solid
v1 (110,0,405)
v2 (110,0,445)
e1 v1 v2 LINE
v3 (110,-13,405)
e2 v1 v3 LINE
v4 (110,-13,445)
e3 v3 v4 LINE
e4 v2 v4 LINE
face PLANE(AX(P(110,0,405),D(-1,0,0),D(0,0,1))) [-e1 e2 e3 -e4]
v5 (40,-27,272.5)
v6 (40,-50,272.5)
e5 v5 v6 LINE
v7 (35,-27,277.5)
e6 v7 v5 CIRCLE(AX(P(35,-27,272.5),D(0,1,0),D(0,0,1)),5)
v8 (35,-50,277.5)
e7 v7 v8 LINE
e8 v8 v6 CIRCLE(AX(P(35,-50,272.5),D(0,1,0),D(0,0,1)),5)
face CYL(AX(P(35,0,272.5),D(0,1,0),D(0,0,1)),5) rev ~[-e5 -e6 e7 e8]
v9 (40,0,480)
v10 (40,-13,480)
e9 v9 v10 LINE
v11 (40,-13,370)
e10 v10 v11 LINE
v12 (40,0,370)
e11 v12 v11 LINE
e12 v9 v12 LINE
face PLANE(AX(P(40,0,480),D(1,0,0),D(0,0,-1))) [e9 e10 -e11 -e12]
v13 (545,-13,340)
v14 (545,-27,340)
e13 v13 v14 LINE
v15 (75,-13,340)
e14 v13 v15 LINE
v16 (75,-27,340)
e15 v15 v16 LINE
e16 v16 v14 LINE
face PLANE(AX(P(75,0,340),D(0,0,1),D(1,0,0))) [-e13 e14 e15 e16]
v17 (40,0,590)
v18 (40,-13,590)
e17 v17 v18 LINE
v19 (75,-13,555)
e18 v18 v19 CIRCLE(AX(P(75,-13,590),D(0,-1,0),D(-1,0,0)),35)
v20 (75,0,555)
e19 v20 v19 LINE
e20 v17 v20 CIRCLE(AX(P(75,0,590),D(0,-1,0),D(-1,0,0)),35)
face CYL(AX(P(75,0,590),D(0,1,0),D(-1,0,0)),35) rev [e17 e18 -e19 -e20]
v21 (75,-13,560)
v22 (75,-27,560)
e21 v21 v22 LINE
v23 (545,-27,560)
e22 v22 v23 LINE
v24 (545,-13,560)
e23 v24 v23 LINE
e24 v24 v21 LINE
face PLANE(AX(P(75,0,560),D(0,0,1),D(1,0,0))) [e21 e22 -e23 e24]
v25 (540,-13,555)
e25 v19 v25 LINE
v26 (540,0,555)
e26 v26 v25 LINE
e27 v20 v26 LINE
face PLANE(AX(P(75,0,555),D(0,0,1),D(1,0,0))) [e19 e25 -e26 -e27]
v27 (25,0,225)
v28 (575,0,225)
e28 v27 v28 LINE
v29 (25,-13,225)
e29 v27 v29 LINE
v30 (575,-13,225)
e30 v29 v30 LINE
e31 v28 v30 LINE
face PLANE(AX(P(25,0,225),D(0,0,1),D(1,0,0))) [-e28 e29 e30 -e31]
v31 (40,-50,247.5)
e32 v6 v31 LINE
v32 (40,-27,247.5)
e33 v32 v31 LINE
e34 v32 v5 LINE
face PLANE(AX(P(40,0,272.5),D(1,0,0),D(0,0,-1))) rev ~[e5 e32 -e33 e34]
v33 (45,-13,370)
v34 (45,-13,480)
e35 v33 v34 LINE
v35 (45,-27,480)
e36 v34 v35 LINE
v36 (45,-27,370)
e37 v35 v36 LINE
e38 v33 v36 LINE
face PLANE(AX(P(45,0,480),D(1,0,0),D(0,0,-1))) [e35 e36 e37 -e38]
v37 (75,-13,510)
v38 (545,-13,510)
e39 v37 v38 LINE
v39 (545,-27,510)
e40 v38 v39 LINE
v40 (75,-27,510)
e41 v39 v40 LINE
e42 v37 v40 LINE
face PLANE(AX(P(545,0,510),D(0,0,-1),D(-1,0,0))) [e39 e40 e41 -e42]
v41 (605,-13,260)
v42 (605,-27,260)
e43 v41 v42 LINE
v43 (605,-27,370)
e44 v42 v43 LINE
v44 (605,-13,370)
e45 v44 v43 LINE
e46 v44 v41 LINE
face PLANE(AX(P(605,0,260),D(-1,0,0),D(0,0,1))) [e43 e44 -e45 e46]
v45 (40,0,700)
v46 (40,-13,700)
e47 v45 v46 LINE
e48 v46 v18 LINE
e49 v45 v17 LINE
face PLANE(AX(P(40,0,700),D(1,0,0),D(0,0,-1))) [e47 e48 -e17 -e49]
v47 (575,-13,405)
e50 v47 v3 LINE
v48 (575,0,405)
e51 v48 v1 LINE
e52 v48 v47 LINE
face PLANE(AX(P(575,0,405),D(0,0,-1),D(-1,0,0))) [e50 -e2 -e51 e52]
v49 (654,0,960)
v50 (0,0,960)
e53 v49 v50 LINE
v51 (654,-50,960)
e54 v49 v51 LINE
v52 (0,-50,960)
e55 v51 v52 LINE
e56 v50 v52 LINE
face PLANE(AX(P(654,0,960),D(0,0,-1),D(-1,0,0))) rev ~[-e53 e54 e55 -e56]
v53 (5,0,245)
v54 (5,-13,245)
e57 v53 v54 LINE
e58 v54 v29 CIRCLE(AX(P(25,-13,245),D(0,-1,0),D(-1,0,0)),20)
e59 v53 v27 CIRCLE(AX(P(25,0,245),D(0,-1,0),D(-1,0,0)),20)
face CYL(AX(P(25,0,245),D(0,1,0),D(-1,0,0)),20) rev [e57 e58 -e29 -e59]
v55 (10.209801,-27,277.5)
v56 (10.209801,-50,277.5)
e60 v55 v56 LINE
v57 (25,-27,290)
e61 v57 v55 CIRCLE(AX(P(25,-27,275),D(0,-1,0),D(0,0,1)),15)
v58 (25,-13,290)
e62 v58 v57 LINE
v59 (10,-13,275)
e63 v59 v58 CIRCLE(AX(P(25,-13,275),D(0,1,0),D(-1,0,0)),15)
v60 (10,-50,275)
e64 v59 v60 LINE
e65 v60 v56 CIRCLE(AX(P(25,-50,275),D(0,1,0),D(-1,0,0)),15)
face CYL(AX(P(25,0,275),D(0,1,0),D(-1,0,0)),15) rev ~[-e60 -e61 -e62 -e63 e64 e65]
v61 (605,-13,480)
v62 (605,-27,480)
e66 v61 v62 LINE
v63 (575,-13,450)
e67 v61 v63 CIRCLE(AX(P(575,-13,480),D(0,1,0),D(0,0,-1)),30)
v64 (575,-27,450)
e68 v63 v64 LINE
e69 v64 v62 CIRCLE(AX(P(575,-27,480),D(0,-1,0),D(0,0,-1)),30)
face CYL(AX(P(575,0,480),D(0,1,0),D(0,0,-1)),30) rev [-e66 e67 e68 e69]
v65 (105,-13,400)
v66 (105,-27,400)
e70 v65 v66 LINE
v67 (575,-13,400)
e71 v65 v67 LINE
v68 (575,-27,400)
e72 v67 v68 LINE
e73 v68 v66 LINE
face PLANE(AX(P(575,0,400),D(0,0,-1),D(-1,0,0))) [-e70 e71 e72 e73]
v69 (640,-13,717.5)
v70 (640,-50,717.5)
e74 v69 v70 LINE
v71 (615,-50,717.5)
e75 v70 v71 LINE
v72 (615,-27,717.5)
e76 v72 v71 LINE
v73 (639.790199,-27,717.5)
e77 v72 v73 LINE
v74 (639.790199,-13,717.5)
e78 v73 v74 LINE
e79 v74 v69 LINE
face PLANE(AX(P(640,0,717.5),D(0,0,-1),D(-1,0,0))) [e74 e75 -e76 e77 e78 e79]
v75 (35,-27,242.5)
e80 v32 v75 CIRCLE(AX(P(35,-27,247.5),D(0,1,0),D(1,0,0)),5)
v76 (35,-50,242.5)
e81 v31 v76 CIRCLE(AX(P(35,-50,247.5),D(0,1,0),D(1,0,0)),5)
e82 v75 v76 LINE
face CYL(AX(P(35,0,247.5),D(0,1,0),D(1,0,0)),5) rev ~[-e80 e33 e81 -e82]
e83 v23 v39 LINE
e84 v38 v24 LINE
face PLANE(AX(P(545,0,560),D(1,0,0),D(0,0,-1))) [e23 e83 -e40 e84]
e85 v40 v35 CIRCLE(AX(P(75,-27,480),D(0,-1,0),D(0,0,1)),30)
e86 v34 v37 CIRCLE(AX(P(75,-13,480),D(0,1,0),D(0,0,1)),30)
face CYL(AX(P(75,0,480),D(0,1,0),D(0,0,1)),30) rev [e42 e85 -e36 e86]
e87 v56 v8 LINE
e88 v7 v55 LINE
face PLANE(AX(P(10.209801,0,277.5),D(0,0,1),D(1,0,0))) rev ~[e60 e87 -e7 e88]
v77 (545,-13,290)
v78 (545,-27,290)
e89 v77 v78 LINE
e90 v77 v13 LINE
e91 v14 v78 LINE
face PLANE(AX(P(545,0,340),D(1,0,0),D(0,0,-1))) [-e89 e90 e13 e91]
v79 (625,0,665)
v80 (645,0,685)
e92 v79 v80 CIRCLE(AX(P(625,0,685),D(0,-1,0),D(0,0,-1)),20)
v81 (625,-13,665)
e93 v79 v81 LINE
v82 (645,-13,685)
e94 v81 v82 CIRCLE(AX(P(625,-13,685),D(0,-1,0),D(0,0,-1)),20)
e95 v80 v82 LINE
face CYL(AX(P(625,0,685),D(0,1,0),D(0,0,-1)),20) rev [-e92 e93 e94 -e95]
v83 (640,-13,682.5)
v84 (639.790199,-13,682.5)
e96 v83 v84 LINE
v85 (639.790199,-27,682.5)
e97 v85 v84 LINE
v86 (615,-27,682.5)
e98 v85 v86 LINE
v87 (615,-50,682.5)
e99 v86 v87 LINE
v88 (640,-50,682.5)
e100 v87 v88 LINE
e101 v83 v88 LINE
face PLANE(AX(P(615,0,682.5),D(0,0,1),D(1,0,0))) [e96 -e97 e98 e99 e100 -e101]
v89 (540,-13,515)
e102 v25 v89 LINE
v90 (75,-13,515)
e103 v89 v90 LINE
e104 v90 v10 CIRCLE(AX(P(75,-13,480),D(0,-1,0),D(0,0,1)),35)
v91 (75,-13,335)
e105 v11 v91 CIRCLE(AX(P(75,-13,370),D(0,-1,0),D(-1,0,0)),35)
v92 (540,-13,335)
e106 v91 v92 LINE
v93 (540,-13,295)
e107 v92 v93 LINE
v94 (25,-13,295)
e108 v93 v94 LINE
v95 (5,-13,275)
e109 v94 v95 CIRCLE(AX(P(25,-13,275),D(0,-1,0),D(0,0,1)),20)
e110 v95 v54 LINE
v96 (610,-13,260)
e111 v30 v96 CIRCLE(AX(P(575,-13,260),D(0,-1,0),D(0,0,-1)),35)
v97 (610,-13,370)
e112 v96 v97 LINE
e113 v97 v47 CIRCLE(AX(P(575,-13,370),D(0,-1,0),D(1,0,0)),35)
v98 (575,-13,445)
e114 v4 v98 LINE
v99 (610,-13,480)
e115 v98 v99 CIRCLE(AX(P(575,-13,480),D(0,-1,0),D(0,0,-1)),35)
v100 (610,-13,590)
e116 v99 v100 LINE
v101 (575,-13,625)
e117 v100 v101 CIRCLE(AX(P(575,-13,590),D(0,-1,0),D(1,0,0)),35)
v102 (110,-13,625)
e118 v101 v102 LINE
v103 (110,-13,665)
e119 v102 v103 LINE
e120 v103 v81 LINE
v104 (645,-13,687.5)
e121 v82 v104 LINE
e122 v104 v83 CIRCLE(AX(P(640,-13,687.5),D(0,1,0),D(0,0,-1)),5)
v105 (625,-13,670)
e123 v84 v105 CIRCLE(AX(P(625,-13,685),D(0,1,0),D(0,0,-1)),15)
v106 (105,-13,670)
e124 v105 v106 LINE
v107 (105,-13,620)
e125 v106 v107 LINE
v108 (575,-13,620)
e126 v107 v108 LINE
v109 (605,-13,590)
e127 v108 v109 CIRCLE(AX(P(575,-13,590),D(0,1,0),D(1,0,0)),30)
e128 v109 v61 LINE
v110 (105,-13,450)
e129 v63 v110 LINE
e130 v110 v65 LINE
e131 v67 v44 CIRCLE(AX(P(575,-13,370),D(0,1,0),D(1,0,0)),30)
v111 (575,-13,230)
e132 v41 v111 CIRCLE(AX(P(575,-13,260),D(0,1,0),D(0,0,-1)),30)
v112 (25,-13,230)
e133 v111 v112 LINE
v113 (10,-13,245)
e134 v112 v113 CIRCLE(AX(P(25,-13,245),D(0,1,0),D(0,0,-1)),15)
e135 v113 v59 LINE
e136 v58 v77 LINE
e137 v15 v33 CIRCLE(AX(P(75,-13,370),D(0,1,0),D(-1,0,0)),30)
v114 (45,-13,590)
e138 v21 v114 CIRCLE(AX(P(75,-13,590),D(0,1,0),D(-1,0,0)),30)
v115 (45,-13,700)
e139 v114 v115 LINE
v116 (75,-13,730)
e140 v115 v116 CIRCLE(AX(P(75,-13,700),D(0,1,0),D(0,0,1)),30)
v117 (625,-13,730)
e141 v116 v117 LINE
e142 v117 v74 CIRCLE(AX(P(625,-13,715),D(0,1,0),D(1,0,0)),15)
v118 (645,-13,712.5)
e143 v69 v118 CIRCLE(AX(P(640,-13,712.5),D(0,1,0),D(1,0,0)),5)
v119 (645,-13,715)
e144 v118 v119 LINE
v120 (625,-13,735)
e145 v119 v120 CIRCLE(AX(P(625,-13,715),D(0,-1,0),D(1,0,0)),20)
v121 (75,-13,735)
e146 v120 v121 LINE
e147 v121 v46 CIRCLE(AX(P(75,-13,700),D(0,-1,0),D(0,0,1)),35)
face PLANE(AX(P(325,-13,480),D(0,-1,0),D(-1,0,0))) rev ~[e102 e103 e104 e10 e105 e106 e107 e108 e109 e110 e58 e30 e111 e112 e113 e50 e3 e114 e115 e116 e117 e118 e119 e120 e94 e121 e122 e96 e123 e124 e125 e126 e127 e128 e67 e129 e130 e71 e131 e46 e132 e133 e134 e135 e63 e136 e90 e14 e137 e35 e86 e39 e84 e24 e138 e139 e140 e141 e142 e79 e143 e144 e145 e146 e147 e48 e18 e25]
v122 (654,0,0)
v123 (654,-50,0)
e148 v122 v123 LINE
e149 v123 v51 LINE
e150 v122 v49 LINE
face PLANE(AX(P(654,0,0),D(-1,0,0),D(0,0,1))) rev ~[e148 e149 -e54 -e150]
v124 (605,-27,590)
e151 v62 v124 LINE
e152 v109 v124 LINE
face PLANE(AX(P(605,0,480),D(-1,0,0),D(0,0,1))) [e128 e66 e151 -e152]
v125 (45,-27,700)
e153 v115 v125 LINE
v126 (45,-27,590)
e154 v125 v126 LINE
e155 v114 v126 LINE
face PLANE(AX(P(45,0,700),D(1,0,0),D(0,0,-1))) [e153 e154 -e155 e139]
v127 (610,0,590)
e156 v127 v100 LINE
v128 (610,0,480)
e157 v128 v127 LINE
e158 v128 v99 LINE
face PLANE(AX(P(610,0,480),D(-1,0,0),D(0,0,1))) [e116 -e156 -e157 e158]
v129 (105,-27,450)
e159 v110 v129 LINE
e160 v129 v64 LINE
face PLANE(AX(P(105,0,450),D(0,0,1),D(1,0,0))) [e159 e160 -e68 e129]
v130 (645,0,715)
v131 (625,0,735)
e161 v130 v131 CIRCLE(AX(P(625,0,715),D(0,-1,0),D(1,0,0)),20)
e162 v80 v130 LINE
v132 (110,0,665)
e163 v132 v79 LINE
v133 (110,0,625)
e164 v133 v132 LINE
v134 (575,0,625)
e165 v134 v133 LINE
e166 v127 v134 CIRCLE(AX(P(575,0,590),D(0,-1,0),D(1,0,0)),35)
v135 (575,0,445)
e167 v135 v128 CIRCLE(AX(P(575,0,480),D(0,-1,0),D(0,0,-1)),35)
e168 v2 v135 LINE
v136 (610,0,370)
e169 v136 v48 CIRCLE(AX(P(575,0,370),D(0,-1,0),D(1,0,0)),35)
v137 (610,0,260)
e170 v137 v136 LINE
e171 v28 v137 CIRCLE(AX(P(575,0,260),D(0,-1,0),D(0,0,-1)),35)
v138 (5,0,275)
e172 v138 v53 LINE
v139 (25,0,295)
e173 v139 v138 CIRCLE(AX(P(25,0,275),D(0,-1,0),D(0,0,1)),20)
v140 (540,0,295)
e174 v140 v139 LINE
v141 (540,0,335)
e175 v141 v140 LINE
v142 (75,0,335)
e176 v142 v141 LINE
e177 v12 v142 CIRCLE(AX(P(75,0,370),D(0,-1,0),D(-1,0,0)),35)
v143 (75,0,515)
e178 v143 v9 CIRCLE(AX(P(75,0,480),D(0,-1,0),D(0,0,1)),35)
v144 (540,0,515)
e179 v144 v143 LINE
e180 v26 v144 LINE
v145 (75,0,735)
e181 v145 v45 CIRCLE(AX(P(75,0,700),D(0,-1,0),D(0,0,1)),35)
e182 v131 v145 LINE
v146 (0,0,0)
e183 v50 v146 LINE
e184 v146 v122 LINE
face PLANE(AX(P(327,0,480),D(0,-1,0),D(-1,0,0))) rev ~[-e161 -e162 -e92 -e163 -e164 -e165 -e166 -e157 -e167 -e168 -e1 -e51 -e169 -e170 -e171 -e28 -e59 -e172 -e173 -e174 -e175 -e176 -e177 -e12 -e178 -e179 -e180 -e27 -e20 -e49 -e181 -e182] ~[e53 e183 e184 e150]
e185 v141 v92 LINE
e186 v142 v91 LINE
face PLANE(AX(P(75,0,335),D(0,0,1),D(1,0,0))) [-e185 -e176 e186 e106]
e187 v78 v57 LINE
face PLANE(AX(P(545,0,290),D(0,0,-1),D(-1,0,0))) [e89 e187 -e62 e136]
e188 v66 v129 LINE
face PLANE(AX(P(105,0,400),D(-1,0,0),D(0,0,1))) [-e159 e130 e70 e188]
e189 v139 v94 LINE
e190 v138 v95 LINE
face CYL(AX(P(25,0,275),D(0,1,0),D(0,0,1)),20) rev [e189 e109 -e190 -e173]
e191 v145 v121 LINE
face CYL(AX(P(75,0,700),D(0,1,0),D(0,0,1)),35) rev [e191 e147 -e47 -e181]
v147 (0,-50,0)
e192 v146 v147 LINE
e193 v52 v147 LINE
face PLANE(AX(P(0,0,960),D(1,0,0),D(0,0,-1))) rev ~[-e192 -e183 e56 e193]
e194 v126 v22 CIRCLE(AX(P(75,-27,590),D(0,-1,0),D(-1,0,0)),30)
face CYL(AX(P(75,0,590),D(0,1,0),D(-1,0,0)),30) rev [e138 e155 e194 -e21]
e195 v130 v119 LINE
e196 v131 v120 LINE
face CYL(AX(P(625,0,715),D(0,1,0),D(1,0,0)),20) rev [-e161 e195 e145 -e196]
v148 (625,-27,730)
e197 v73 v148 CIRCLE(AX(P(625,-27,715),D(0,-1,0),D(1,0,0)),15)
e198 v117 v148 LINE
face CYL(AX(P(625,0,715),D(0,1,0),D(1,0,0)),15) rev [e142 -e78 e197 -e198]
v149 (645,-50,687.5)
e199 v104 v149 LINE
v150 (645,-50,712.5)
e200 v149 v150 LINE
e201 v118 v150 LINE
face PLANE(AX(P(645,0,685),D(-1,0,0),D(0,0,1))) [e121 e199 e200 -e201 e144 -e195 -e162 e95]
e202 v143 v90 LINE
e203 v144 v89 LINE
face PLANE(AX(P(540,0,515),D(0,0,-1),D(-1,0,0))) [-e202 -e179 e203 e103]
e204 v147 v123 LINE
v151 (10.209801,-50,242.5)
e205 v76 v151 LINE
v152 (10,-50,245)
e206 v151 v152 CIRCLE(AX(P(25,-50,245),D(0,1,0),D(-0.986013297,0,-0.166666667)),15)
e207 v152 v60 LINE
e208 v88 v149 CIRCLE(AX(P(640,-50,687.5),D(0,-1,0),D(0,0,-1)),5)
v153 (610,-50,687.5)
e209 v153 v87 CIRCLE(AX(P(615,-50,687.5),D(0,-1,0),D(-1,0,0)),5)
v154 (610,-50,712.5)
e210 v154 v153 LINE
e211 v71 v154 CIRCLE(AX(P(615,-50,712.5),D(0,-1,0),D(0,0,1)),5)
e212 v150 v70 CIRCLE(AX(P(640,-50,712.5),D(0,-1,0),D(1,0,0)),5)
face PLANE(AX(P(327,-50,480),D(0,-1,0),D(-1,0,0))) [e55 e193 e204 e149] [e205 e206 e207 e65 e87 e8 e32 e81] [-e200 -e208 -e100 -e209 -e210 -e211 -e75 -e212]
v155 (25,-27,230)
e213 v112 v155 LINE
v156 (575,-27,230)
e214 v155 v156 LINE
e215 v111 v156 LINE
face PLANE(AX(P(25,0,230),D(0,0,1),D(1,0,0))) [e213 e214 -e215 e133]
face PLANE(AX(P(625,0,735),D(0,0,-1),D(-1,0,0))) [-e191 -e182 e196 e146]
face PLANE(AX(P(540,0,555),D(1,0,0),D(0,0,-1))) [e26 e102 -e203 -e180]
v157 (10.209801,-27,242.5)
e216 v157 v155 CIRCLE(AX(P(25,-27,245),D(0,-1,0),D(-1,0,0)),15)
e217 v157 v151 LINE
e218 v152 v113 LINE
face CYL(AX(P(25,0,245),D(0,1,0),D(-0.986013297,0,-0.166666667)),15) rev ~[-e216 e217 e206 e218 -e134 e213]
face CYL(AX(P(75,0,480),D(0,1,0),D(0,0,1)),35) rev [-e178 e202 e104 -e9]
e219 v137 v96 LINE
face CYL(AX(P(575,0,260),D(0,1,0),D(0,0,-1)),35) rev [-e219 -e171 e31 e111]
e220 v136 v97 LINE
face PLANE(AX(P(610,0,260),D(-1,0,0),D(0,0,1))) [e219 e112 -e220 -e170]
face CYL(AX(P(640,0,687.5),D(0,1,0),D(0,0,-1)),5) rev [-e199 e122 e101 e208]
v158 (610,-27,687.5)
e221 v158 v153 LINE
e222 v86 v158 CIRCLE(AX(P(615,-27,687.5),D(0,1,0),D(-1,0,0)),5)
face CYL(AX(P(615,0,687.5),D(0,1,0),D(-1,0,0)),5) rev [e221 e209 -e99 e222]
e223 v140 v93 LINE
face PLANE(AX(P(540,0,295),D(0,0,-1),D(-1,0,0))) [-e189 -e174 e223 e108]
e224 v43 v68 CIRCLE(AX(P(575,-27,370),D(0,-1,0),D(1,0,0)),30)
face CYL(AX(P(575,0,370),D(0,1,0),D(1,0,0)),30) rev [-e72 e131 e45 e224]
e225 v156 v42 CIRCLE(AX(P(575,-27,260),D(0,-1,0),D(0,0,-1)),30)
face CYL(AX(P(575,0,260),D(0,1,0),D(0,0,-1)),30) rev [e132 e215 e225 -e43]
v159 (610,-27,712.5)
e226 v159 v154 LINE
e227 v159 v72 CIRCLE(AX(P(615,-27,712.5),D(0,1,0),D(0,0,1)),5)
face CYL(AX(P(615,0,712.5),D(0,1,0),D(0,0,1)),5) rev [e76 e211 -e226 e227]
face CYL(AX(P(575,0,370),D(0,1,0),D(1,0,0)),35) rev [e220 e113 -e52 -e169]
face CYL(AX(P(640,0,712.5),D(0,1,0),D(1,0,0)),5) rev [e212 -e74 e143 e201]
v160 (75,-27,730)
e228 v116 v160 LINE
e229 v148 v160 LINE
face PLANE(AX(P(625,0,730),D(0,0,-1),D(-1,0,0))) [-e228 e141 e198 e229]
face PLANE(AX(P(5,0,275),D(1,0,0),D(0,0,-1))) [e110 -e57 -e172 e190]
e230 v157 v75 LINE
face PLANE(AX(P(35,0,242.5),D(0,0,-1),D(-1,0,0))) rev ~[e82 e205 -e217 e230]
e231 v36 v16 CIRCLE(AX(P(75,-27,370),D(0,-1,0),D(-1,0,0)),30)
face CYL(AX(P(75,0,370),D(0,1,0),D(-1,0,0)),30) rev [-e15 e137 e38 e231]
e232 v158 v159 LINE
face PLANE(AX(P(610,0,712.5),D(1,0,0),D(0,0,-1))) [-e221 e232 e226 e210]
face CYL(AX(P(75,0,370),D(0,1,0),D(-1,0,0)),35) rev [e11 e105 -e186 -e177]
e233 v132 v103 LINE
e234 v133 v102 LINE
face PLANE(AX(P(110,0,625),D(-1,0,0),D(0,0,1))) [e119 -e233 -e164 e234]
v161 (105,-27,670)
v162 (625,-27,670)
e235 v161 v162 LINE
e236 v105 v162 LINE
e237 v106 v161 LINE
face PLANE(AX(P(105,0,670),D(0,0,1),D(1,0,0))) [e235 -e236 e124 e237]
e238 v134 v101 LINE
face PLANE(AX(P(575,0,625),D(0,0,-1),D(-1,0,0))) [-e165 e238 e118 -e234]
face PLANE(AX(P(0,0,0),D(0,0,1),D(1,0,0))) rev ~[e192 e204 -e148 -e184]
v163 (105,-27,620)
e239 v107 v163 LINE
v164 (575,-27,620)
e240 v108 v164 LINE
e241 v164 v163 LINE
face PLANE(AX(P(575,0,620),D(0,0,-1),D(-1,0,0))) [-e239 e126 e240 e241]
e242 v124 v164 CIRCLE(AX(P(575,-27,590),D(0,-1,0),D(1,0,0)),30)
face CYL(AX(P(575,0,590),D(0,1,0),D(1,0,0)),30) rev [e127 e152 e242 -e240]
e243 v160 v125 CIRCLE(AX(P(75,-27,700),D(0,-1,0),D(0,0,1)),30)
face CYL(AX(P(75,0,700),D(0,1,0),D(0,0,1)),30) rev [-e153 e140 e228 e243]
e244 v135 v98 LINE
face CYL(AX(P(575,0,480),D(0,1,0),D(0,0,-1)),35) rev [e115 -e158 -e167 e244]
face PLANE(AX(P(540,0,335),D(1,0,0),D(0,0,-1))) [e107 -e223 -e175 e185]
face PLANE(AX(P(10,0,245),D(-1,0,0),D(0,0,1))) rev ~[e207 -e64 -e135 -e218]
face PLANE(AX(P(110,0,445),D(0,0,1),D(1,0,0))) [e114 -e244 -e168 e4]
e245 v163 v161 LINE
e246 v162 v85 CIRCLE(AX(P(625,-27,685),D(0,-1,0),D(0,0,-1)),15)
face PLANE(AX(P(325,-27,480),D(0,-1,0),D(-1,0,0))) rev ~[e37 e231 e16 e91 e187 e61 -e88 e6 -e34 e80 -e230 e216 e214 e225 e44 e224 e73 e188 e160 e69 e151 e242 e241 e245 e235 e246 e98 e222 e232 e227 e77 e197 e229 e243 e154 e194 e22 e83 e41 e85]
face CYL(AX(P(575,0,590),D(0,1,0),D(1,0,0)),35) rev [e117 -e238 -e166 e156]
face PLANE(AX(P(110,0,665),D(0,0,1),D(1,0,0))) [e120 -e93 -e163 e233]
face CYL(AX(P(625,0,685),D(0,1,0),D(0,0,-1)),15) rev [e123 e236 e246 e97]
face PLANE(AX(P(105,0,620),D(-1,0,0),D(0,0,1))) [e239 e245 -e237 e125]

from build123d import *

# Parameters (mm, degrees)
EXTRUDE_1_DEPTH     = 50
CUT_EXTRUDE_1_DEPTH = 13
CUT_EXTRUDE_2_DEPTH = 27
CUT_EXTRUDE_3_DEPTH = 50


with BuildPart() as part:
    # 草图1 → 凸台-拉伸1 (new body)
    with BuildSketch(Plane(origin=(0, 0, 0), x_dir=(1, 0, 0), z_dir=(0, 1, 0))):
        Polygon((0, 0), (654, 0), (654.0000000000001, -960), (1.1757e-13, -960), align=None)
    extrude(amount=-EXTRUDE_1_DEPTH)

    # 草图1<4> → 切除-拉伸1 (cut)
    with BuildSketch(Plane(origin=(0, 0, 0), x_dir=(1, 0, 0), z_dir=(0, 1, 0))):
        with BuildLine():
            Line((5.0000000000000355, -275), (5.0000000000000355, -244.9999999999999))
            ThreePointArc((5.0000000000000355, -244.9999999999999), (10.857864376269086, -230.85786437626894), (25.000000000000036, -224.99999999999986))
            Line((25.000000000000036, -224.99999999999986), (574.9999999999997, -224.99999999999986))
            ThreePointArc((574.9999999999997, -224.99999999999986), (599.748737341529, -235.2512626584707), (609.9999999999999, -260.0000000000001))
            Line((609.9999999999999, -260.0000000000001), (609.9999999999999, -369.9999999999998))
            ThreePointArc((609.9999999999999, -369.9999999999998), (599.748737341529, -394.7487373415292), (574.9999999999997, -405))
            Line((574.9999999999997, -405), (110.0000000000001, -405.00000000000006))
            Line((110.0000000000001, -405.00000000000006), (110.00000000000007, -444.9999999999999))
            Line((110.00000000000007, -444.9999999999999), (574.9999999999998, -444.99999999999966))
            ThreePointArc((574.9999999999998, -444.99999999999966), (599.7487373415292, -455.2512626584705), (610, -479.99999999999994))
            Line((610, -479.99999999999994), (610, -589.9999999999995))
            ThreePointArc((610, -589.9999999999995), (599.7487373415291, -614.7487373415289), (574.9999999999998, -624.9999999999998))
            Line((574.9999999999998, -624.9999999999998), (110.0000000000001, -625))
            Line((110.0000000000001, -625), (110.00000000000011, -665.0000000000001))
            Line((110.00000000000011, -665.0000000000001), (625.0000000000001, -665.0000000000002))
            ThreePointArc((625.0000000000001, -665.0000000000002), (639.142135623731, -670.8578643762693), (645.0000000000001, -685.0000000000001))
            Line((645.0000000000001, -685.0000000000001), (645.0000000000001, -714.9999999999998))
            ThreePointArc((645.0000000000001, -714.9999999999998), (639.1421356237311, -729.1421356237307), (625.0000000000001, -734.9999999999997))
            Line((625.0000000000001, -734.9999999999997), (75.0000000000004, -734.9999999999999))
            ThreePointArc((75.0000000000004, -734.9999999999999), (50.25126265847098, -724.748737341529), (40.000000000000135, -699.9999999999997))
            Line((40.000000000000135, -699.9999999999997), (40.0000000000001, -590.0000000000001))
            ThreePointArc((40.0000000000001, -590.0000000000001), (50.25126265847094, -565.2512626584708), (75.00000000000034, -554.9999999999998))
            Line((75.00000000000034, -554.9999999999998), (539.9999999999999, -554.9999999999998))
            Line((539.9999999999999, -554.9999999999998), (539.9999999999999, -514.9999999999997))
            Line((539.9999999999999, -514.9999999999997), (75.00000000000036, -515))
            ThreePointArc((75.00000000000036, -515), (50.251262658470964, -504.7487373415292), (40.000000000000085, -479.9999999999998))
            Line((40.000000000000085, -479.9999999999998), (40.00000000000005, -370.0000000000004))
            ThreePointArc((40.00000000000005, -370.0000000000004), (50.25126265847087, -345.251262658471), (75.00000000000028, -335.0000000000001))
            Line((75.00000000000028, -335.0000000000001), (540, -335))
            Line((540, -335), (540, -295.00000000000006))
            Line((540, -295.00000000000006), (25.000000000000036, -295.00000000000006))
            ThreePointArc((25.000000000000036, -295.00000000000006), (10.857864376269081, -289.14213562373095), (5.0000000000000355, -275))
        make_face()
    extrude(amount=-CUT_EXTRUDE_1_DEPTH, mode=Mode.SUBTRACT)

    # 草图1<5> → 切除-拉伸2 (cut)
    with BuildSketch(Plane(origin=(0, 0, 0), x_dir=(1, 0, 0), z_dir=(0, 1, 0))):
        with BuildLine():
            Line((25.00000000000002, -229.99999999999986), (574.9999999999999, -229.99999999999983))
            ThreePointArc((574.9999999999999, -229.99999999999983), (596.2132034355964, -238.78679656440343), (604.9999999999999, -259.9999999999999))
            Line((604.9999999999999, -259.9999999999999), (604.9999999999999, -370))
            ThreePointArc((604.9999999999999, -370), (596.2132034355964, -391.2132034355964), (574.9999999999999, -400))
            Line((574.9999999999999, -400), (105.00000000000007, -400.00000000000006))
            Line((105.00000000000007, -400.00000000000006), (105.00000000000007, -449.9999999999999))
            Line((105.00000000000007, -449.9999999999999), (575, -449.99999999999966))
            ThreePointArc((575, -449.99999999999966), (596.2132034355964, -458.78679656440323), (605, -479.99999999999966))
            Line((605, -479.99999999999966), (605, -589.9999999999998))
            ThreePointArc((605, -589.9999999999998), (596.2132034355964, -611.2132034355961), (575, -619.9999999999998))
            Line((575, -619.9999999999998), (105.00000000000011, -620))
            Line((105.00000000000011, -620), (105.00000000000011, -670.0000000000001))
            Line((105.00000000000011, -670.0000000000001), (625, -670.0000000000001))
            ThreePointArc((625, -670.0000000000001), (635.6066017177983, -674.3933982822019), (640.0000000000001, -685.0000000000002))
            Line((640.0000000000001, -685.0000000000002), (640.0000000000001, -714.9999999999997))
            ThreePointArc((640.0000000000001, -714.9999999999997), (635.6066017177983, -725.606601717798), (625, -729.9999999999998))
            Line((625, -729.9999999999998), (75.00000000000007, -730))
            ThreePointArc((75.00000000000007, -730), (53.786796564403645, -721.2132034355964), (45.00000000000012, -700))
            Line((45.00000000000012, -700), (45.00000000000009, -589.9999999999999))
            ThreePointArc((45.00000000000009, -589.9999999999999), (53.78679656440367, -568.7867965644034), (75.00000000000009, -559.9999999999999))
            Line((75.00000000000009, -559.9999999999999), (544.9999999999999, -559.9999999999998))
            Line((544.9999999999999, -559.9999999999998), (544.9999999999999, -509.99999999999966))
            Line((544.9999999999999, -509.99999999999966), (75.00000000000009, -510))
            ThreePointArc((75.00000000000009, -510), (53.786796564403616, -501.2132034355964), (45.00000000000007, -479.99999999999994))
            Line((45.00000000000007, -479.99999999999994), (45.00000000000004, -370.0000000000001))
            ThreePointArc((45.00000000000004, -370.0000000000001), (53.786796564403616, -348.7867965644037), (75.00000000000003, -340.00000000000006))
            Line((75.00000000000003, -340.00000000000006), (545, -340))
            Line((545, -340), (545, -290.00000000000006))
            Line((545, -290.00000000000006), (25.00000000000002, -290.00000000000006))
            ThreePointArc((25.00000000000002, -290.00000000000006), (14.393398282201769, -285.60660171779824), (10.000000000000036, -275))
            Line((10.000000000000036, -275), (10.000000000000036, -244.9999999999999))
            ThreePointArc((10.000000000000036, -244.9999999999999), (14.393398282201789, -234.39339828220164), (25.00000000000002, -229.99999999999986))
        make_face()
    extrude(amount=-CUT_EXTRUDE_2_DEPTH, mode=Mode.SUBTRACT)

    # 草图1<6> → 切除-拉伸3 (cut)
    with BuildSketch(Plane(origin=(0, 0, 0), x_dir=(1, 0, 0), z_dir=(0, 1, 0))):
        with BuildLine():
            ThreePointArc((10.000000000000018, -275), (10.052542158175607, -276.2543939041952), (10.20980054225095, -277.4999999999999))
            Line((10.20980054225095, -277.49999999999994), (35.00000000000021, -277.49999999999994))
            ThreePointArc((35.00000000000021, -277.49999999999994), (38.53553390593298, -276.03553390593265), (40.000000000000256, -272.4999999999999))
            Line((40.00000000000024, -272.4999999999999), (40.00000000000024, -247.5))
            ThreePointArc((40.00000000000024, -247.5), (38.53553390593298, -243.96446609406723), (35.00000000000021, -242.49999999999997))
            Line((35.00000000000021, -242.49999999999997), (10.209800542250957, -242.49999999999997))
            ThreePointArc((10.209800542250964, -242.5), (10.052542158175624, -243.7456060958047), (10.000000000000037, -244.9999999999999))
            Line((10.000000000000036, -244.9999999999999), (10.000000000000036, -275))
        make_face()
        with BuildLine():
            ThreePointArc((640.0000000000002, -717.5), (643.535533905933, -716.0355339059328), (645.0000000000002, -712.5))
            Line((645.0000000000001, -712.5), (645.0000000000001, -687.5))
            ThreePointArc((645.0000000000002, -687.5), (643.535533905933, -683.9644660940672), (640.0000000000002, -682.5))
            Line((640.0000000000002, -682.5), (615.0000000000002, -682.5))
            ThreePointArc((615.0000000000002, -682.5), (611.4644660940675, -683.9644660940672), (610.0000000000002, -687.5))
            Line((610.0000000000002, -687.5), (610.0000000000002, -712.5))
            ThreePointArc((610.0000000000002, -712.5), (611.4644660940675, -716.0355339059328), (615.0000000000002, -717.5))
            Line((615.0000000000002, -717.5), (640.0000000000002, -717.5))
        make_face()
    extrude(amount=-CUT_EXTRUDE_3_DEPTH, mode=Mode.SUBTRACT)


solid = part.part
